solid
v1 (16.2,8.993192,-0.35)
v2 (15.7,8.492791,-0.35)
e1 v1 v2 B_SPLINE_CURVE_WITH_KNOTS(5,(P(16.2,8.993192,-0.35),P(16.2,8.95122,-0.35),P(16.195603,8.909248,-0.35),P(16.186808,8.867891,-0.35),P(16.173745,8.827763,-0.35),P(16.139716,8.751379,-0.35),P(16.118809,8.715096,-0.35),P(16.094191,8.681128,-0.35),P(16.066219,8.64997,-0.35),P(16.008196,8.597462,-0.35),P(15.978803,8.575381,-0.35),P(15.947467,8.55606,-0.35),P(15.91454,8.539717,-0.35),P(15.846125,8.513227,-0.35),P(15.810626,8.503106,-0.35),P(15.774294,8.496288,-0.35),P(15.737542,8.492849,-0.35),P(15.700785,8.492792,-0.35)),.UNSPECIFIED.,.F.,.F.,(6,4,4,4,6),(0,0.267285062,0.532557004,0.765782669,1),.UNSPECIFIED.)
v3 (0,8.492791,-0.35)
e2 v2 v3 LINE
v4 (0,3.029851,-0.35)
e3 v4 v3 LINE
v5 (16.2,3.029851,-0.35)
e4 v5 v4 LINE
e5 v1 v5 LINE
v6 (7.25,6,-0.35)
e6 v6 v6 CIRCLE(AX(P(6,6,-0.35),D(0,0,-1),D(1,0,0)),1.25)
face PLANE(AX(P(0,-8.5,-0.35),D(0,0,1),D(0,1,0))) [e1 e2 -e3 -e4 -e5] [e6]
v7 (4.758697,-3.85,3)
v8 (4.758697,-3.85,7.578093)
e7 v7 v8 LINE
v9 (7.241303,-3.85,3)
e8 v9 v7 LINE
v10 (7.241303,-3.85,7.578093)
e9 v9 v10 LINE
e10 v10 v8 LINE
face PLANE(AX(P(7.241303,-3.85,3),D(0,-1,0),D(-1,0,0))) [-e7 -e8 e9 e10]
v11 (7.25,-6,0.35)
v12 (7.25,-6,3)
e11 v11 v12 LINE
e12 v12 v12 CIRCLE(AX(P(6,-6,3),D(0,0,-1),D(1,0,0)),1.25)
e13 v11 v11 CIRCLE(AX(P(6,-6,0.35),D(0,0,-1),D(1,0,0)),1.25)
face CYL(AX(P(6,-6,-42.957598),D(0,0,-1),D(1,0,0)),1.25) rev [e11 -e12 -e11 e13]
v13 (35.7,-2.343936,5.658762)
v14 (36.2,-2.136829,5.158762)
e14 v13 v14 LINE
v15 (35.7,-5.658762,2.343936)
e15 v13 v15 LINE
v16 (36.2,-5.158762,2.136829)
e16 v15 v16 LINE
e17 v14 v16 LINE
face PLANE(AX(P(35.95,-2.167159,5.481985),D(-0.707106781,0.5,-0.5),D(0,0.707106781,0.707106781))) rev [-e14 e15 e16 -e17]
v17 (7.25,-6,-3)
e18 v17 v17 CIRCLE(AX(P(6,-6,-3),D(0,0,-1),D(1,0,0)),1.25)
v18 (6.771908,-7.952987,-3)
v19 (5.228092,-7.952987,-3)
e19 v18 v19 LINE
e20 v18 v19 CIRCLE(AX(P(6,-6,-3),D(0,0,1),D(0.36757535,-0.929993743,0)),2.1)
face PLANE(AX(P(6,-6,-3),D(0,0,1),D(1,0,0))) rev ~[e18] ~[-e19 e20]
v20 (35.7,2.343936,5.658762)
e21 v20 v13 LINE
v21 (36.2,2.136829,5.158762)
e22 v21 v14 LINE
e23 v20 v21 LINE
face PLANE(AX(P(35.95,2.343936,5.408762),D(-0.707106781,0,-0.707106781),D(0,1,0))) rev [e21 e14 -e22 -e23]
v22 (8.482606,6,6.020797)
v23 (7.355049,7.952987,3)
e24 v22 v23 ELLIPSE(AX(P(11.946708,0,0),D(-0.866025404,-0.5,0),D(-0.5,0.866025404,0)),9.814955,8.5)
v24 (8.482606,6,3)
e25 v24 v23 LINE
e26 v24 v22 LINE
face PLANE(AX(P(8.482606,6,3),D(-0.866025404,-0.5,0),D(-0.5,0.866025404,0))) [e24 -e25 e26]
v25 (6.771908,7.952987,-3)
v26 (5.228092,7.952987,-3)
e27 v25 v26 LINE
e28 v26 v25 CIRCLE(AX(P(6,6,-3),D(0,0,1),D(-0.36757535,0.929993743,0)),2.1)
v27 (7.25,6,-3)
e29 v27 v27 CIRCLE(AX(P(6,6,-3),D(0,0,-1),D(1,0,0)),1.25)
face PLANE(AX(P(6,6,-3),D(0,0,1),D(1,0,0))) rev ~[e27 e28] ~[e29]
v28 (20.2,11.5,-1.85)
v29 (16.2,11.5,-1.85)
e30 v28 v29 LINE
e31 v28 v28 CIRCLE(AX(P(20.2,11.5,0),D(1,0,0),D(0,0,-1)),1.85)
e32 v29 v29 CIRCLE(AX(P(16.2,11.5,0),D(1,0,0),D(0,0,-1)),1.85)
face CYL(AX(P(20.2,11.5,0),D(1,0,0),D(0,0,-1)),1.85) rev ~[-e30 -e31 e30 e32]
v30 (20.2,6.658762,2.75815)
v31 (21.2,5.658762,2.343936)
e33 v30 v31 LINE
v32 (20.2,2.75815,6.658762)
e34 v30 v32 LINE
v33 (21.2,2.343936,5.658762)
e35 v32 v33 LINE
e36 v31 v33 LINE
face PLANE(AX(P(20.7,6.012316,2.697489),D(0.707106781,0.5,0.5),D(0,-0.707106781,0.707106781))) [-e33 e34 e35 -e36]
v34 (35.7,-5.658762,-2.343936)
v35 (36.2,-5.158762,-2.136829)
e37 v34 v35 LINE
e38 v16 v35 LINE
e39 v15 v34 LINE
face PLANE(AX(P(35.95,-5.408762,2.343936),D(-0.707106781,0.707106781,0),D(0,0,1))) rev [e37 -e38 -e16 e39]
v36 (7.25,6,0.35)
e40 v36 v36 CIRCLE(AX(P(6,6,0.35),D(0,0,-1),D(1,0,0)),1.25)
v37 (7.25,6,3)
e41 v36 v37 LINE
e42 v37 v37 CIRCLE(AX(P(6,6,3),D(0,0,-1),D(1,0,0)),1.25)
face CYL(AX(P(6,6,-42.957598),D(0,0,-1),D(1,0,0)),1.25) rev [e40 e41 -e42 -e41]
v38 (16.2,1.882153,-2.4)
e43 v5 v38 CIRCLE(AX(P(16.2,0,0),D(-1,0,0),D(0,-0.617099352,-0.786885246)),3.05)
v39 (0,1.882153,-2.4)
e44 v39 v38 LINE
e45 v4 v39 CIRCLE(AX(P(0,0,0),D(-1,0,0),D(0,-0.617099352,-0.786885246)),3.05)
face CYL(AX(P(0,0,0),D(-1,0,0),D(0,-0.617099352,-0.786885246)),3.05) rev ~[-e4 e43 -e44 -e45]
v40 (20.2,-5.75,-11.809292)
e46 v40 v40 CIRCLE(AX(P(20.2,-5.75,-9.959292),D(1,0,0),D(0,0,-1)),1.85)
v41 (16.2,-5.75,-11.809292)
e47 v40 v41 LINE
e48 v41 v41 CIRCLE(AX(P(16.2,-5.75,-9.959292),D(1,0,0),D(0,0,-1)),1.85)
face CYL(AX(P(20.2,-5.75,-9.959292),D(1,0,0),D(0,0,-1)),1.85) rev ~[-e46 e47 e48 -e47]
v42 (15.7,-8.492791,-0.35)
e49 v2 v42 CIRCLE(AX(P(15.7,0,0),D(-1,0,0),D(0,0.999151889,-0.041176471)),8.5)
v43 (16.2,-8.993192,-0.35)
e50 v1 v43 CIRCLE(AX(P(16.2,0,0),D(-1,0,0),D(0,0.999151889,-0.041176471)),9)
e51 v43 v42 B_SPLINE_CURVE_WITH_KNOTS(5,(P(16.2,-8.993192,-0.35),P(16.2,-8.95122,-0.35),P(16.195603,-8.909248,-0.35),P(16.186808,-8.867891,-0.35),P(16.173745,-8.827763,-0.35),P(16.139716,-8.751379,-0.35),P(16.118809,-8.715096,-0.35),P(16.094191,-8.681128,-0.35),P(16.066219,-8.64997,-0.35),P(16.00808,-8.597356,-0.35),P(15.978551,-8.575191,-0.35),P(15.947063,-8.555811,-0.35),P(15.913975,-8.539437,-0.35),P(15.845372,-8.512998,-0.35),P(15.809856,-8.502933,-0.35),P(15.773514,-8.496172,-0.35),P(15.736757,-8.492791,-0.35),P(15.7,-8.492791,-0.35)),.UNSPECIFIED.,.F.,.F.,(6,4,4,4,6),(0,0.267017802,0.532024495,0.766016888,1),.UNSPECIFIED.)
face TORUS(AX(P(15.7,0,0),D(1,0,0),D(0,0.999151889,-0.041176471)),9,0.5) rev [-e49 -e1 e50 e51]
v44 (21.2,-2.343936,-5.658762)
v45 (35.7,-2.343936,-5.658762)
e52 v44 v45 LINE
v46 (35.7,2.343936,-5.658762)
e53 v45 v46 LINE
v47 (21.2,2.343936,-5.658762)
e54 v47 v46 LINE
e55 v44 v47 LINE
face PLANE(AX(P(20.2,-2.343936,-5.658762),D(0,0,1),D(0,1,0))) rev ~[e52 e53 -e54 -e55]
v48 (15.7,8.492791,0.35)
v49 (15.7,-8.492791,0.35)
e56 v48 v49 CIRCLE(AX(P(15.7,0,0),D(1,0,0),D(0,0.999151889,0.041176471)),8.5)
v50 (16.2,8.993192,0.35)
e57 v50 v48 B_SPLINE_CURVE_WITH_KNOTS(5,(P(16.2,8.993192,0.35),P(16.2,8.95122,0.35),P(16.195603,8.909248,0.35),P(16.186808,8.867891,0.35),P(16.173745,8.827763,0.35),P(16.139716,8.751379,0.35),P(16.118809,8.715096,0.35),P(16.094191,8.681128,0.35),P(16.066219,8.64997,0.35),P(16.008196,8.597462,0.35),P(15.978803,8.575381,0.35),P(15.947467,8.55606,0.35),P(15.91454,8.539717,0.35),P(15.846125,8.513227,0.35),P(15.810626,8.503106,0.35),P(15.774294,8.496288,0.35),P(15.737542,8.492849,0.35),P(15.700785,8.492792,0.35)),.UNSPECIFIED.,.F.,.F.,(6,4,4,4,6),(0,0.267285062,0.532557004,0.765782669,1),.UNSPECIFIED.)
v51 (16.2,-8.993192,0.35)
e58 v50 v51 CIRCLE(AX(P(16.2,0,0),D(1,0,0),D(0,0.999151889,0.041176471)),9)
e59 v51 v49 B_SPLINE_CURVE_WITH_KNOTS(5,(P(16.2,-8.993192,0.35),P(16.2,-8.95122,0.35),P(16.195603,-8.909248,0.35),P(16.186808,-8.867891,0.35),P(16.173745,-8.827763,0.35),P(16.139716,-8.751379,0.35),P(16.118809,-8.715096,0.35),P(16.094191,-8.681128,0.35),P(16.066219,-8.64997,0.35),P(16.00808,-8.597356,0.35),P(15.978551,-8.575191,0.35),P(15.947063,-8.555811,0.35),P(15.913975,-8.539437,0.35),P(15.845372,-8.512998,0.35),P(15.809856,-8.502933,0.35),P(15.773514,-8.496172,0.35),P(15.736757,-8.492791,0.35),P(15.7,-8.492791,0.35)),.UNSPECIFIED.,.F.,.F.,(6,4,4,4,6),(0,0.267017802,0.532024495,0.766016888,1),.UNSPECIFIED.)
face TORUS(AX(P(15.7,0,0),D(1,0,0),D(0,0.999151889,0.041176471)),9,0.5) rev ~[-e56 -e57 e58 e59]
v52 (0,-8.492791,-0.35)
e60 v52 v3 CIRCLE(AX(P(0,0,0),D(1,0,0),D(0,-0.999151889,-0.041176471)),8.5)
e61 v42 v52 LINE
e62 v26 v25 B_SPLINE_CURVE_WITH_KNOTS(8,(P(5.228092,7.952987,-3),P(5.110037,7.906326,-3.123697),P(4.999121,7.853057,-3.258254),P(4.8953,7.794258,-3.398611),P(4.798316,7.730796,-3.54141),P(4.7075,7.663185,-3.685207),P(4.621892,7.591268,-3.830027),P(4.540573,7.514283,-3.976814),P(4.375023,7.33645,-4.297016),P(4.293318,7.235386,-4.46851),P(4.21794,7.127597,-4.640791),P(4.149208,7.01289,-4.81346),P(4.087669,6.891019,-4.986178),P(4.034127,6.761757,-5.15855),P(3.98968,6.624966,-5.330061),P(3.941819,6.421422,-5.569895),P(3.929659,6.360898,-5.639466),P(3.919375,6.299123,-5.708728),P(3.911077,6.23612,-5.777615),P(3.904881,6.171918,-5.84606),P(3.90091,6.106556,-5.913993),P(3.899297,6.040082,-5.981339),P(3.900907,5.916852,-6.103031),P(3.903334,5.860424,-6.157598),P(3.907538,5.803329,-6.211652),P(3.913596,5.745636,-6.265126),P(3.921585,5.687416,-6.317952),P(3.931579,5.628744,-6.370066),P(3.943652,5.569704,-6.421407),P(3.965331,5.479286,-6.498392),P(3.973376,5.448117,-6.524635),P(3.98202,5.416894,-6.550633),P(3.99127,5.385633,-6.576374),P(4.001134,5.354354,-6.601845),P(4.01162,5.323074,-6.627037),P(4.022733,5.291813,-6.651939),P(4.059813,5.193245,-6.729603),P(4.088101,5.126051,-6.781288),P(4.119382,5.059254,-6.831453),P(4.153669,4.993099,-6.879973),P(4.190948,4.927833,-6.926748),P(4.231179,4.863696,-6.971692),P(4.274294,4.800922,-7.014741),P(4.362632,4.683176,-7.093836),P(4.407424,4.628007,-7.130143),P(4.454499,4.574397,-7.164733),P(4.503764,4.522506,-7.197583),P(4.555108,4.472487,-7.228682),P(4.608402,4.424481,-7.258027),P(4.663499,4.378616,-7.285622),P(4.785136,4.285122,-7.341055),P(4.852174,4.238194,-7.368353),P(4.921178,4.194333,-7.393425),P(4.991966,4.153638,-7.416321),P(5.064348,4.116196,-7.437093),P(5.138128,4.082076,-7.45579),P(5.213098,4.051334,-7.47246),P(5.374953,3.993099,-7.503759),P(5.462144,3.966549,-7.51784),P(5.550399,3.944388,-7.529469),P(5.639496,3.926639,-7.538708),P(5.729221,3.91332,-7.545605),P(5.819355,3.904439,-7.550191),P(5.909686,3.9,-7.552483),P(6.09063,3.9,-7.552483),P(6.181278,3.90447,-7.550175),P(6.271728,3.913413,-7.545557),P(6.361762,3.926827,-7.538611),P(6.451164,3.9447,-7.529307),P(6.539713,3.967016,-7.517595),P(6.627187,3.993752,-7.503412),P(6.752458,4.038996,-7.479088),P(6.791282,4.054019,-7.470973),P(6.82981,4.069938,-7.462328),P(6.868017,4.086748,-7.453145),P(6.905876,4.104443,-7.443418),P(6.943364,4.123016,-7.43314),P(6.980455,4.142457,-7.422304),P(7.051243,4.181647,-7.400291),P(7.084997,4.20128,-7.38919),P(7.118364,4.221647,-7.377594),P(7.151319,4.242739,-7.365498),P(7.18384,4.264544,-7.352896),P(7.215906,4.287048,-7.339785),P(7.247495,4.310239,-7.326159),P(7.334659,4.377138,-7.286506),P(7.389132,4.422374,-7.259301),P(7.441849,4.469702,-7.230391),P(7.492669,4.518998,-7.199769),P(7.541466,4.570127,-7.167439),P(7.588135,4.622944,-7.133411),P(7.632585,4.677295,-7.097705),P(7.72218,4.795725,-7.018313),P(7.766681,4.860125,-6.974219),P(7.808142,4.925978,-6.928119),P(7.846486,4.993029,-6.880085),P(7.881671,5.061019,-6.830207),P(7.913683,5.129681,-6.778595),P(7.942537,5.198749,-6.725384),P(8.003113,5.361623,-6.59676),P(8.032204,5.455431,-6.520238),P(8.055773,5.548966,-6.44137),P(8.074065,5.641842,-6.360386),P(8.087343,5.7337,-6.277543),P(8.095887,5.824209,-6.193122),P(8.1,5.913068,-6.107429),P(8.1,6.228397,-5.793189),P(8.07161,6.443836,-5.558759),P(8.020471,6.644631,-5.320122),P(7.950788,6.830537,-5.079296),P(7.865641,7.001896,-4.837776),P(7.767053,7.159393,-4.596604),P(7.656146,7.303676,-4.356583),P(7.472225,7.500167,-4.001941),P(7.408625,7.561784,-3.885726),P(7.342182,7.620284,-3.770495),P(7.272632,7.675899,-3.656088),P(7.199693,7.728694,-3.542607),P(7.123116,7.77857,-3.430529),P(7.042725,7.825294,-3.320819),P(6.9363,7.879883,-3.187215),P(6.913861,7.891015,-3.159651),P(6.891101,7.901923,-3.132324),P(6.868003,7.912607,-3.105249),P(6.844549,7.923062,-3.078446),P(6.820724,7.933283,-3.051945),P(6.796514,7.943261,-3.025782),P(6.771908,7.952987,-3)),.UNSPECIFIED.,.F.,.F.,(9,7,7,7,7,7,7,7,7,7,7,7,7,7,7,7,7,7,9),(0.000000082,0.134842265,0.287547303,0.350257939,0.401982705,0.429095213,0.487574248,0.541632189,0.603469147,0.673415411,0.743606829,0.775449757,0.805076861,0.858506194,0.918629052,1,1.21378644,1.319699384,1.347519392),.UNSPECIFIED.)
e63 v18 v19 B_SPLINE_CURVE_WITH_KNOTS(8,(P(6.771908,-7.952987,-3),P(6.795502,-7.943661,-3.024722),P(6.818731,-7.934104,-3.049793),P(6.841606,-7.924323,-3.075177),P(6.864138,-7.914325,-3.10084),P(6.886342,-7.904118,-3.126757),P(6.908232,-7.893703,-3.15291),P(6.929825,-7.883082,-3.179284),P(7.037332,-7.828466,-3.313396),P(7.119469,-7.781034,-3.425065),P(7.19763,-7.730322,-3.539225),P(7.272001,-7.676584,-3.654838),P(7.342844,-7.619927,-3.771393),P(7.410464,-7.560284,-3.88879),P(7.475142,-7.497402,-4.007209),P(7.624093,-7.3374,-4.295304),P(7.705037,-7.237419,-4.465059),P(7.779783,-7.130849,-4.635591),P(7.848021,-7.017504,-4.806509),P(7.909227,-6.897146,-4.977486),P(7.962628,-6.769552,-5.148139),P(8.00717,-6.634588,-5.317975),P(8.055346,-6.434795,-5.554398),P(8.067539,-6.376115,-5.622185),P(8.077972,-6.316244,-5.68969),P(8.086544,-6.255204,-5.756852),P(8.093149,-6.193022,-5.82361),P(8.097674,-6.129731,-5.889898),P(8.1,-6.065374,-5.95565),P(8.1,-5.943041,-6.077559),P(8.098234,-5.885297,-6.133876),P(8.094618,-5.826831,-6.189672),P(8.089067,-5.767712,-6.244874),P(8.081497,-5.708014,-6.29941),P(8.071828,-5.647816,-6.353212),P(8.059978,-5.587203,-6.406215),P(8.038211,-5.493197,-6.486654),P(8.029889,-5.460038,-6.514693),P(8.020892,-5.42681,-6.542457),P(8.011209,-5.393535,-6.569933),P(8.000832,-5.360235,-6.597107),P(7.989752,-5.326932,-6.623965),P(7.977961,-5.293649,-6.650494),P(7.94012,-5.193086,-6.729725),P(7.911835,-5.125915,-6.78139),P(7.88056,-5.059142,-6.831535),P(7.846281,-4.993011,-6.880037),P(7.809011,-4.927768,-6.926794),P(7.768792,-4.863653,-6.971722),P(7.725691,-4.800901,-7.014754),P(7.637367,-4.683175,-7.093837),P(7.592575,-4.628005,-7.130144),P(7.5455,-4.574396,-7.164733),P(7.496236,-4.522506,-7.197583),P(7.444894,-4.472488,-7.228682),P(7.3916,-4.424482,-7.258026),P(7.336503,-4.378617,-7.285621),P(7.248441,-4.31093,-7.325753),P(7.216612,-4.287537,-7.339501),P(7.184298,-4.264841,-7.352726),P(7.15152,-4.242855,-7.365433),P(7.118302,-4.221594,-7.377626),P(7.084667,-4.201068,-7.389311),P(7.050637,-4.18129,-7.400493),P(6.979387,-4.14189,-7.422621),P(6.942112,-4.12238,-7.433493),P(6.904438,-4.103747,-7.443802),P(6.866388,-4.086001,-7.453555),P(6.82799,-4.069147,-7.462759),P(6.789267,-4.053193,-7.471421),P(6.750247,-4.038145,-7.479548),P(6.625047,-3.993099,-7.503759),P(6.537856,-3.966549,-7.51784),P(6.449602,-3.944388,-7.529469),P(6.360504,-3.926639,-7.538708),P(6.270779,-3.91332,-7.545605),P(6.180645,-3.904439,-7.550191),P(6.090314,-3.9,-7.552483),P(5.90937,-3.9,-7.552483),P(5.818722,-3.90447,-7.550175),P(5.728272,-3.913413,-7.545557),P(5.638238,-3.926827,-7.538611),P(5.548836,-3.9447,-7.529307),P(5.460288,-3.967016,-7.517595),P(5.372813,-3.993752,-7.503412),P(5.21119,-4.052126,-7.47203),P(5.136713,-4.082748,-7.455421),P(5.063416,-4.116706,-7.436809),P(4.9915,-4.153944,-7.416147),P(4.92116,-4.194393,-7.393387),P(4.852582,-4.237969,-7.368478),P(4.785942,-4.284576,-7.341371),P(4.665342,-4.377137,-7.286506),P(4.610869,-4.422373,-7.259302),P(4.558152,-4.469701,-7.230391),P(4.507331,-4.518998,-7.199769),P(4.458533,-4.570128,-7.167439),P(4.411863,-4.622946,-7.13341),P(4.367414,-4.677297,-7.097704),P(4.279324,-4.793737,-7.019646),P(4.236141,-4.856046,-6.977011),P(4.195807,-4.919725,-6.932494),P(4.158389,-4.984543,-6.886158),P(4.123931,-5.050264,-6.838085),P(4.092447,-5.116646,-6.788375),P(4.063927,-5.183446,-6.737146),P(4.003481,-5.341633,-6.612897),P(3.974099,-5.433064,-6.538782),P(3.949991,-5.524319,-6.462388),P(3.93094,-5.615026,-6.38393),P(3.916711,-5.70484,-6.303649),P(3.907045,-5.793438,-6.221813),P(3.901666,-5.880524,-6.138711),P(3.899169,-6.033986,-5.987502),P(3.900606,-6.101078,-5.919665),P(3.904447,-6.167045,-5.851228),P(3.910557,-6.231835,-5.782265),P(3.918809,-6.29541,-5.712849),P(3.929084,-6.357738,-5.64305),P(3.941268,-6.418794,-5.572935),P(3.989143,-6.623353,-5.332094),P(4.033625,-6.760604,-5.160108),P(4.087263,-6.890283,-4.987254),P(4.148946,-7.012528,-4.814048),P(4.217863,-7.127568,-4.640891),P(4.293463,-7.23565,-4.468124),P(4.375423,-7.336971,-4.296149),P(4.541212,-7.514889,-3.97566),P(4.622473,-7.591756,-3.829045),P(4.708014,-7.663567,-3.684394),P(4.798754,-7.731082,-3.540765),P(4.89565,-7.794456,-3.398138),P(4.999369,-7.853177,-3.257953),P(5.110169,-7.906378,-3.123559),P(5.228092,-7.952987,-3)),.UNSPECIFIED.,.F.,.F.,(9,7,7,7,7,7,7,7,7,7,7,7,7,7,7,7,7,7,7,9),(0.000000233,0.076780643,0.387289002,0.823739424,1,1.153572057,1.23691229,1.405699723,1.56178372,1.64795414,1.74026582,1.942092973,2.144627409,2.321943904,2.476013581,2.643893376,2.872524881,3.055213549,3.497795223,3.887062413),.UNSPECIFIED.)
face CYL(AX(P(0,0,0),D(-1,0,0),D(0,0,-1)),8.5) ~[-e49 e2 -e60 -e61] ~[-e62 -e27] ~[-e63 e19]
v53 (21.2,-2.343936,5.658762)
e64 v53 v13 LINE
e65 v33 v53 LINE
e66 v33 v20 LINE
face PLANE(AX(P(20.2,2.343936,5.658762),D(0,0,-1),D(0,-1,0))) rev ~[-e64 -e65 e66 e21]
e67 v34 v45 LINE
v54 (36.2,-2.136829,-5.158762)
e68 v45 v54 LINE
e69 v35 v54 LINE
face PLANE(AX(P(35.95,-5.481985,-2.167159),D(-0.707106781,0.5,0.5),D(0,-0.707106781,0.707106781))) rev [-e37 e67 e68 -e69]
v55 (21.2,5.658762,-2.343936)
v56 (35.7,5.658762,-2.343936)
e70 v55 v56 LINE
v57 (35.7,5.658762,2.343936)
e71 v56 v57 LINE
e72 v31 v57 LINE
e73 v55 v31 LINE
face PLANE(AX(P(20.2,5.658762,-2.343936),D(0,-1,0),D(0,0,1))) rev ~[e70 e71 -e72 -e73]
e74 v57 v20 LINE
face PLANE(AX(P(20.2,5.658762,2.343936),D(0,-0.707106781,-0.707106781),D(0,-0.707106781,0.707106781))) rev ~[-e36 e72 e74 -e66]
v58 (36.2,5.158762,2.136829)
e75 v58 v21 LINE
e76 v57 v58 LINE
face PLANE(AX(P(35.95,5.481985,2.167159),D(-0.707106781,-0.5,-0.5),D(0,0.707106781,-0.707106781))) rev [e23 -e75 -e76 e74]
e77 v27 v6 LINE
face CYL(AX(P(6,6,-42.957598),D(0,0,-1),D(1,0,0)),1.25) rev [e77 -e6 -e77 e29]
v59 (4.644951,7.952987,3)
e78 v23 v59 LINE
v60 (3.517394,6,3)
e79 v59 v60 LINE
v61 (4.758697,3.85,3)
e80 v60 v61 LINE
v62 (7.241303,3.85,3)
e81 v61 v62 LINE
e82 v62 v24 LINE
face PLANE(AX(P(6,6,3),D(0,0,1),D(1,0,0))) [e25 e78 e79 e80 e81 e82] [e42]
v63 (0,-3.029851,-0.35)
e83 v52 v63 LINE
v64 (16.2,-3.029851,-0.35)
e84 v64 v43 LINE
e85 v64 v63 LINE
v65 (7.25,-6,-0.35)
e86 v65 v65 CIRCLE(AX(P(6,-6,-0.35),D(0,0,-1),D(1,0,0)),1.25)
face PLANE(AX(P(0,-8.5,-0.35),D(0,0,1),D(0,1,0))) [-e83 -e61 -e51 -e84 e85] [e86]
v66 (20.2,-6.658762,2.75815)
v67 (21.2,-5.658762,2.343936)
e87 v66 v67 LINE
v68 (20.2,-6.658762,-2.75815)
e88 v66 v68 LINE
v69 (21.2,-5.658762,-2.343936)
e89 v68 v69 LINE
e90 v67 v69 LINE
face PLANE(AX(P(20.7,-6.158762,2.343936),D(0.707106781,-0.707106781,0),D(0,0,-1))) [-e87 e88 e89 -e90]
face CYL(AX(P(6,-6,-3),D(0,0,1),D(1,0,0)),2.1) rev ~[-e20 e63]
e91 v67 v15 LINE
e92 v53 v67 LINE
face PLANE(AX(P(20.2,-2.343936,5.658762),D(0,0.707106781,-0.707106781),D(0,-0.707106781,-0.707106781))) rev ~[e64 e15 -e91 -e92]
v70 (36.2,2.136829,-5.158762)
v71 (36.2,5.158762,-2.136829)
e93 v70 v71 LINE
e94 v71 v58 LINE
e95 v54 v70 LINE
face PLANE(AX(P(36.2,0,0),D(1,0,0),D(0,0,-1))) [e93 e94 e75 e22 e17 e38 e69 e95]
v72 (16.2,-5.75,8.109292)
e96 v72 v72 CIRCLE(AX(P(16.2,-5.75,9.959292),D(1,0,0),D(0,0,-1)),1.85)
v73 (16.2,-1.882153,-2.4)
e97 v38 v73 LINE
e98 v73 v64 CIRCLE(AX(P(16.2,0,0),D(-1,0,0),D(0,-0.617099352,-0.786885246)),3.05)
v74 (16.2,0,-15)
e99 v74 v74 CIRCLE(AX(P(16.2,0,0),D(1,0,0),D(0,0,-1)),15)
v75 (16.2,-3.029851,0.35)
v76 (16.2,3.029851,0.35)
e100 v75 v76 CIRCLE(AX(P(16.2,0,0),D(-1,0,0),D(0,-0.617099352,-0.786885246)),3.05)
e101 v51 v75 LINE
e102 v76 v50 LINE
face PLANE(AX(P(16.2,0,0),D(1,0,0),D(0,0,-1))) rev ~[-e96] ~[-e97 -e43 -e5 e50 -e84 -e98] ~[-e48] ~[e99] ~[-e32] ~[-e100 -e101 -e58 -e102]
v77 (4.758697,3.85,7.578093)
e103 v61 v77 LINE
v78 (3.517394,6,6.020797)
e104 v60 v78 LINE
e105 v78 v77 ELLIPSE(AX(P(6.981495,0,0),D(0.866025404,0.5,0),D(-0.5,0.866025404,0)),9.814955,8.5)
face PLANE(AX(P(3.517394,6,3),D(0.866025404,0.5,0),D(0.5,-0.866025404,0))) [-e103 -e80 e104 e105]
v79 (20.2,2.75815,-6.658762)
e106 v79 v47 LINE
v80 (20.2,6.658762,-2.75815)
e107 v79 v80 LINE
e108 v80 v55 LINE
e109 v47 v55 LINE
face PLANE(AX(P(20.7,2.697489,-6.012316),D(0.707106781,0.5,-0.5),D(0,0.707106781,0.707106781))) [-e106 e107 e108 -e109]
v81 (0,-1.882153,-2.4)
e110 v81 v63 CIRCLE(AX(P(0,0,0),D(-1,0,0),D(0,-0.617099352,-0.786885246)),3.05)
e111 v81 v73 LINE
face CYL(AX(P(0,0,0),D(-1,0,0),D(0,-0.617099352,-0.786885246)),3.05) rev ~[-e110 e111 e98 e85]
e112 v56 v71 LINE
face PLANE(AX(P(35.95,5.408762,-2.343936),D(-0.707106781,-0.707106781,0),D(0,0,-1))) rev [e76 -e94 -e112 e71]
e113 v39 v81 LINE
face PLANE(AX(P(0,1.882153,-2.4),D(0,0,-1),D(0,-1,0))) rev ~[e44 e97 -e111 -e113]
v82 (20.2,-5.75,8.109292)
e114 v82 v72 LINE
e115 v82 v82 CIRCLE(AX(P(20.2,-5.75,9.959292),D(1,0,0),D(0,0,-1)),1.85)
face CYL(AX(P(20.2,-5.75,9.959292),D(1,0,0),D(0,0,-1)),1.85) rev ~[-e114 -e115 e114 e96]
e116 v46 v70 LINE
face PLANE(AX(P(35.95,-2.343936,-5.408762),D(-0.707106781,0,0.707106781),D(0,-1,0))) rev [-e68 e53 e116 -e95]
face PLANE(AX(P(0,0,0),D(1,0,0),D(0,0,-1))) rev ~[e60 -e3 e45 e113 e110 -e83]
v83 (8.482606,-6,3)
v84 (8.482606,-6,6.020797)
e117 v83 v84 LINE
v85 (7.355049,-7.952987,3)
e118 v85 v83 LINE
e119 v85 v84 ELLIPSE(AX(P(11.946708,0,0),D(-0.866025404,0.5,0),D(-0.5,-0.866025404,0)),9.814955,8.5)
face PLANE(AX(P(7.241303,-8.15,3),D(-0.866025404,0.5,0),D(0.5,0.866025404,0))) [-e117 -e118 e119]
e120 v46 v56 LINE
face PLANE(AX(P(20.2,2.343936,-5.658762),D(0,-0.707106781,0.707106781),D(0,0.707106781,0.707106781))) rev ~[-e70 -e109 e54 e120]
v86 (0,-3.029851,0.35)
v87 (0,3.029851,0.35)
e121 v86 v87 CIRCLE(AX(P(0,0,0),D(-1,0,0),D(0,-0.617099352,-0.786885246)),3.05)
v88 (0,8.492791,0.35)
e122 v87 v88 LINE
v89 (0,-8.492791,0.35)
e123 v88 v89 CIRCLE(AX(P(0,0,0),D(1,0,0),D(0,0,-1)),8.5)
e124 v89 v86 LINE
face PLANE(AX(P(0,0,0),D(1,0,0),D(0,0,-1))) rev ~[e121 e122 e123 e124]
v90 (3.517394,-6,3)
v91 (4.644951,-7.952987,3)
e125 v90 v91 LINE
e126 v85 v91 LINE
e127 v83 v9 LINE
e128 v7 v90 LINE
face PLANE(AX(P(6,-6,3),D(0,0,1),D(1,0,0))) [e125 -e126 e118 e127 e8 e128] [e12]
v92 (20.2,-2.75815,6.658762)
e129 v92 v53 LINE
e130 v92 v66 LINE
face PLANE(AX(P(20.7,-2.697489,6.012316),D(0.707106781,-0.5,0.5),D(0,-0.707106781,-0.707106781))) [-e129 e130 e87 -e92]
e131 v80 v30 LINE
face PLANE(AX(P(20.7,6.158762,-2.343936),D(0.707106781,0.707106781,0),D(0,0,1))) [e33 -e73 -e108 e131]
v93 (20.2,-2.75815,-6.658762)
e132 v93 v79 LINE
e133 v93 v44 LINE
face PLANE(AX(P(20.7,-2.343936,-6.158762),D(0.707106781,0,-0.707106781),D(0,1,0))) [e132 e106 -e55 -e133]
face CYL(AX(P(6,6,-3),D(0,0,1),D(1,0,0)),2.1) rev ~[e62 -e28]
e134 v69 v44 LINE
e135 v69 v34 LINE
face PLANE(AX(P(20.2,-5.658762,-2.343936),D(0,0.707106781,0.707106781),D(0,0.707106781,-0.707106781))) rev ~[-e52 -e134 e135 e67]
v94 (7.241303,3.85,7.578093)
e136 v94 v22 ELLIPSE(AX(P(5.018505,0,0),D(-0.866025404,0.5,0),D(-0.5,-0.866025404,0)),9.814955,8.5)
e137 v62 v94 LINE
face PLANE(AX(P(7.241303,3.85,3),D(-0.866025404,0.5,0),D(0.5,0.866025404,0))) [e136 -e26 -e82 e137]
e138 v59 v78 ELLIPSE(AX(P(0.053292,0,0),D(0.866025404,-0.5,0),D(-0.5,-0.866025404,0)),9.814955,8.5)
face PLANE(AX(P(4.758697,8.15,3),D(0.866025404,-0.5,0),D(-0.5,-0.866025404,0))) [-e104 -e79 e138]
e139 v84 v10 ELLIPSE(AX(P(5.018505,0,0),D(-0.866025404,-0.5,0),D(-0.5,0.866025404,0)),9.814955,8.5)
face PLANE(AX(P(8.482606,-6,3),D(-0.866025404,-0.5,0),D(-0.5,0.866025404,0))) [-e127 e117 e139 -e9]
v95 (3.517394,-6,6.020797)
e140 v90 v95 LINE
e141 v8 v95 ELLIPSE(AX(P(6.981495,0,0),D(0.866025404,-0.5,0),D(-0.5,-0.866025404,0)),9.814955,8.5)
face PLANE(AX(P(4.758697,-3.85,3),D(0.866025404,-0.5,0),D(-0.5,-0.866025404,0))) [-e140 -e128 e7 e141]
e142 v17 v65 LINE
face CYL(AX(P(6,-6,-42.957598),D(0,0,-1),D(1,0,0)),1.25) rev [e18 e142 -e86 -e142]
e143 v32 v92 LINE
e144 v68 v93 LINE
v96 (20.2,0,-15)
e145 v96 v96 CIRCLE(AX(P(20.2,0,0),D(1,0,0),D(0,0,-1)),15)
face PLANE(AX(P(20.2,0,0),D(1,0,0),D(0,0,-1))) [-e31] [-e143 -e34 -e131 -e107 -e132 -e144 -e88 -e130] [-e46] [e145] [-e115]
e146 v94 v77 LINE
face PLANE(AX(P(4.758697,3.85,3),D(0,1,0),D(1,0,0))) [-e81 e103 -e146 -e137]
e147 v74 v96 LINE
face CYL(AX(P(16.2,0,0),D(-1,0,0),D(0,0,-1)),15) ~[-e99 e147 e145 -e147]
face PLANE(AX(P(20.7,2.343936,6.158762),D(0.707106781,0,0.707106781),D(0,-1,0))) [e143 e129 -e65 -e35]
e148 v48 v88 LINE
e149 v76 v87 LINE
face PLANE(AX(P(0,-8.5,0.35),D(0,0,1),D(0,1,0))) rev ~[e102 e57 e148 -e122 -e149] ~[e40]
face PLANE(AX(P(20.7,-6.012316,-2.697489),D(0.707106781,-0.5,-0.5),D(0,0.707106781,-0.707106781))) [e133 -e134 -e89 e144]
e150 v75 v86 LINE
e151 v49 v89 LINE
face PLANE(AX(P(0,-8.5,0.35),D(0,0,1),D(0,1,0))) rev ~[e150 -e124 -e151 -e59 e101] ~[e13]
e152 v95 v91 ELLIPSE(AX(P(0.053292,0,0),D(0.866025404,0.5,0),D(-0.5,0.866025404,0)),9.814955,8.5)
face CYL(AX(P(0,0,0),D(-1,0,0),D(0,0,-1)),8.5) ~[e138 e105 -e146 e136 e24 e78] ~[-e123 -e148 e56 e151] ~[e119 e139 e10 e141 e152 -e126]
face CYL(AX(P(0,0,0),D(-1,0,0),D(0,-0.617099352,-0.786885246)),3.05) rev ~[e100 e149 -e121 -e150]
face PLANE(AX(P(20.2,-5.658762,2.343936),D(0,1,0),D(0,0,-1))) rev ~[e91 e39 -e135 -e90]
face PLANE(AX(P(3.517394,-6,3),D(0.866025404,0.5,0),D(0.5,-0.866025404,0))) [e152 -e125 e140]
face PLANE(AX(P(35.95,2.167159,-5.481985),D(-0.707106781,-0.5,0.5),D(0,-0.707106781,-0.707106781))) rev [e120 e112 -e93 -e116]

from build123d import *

# Parameters (mm, degrees)
SKETCH1_R               = 8.5
BOSS_EXTRUDE1_DEPTH     = 16.2
SKETCH4_W               = 0.7
SKETCH4_H               = 17
CUT_EXTRUDE2_DEPTH      = 21.172753902
SKETCH5_R               = 15
BOSS_EXTRUDE2_DEPTH     = 4
BOSS_EXTRUDE3_DEPTH     = 16
SKETCH7_R               = 1.85
CUT_EXTRUDE3_DEPTH      = 30.292319813
CHAMFER1_SIZE           = 0.5
CUT_EXTRUDE4_DEPTH      = 42.957597643
CUT_EXTRUDE4_DEPTH_BACK = 42.957597643
SKETCH8_R               = 1.25
CUT_EXTRUDE5_DEPTH      = 44.121224472
SKETCH10_R              = 2.1
CUT_EXTRUDE6_DEPTH      = 44.121224472
FILLET1_R               = 0.5
CHAMFER2_SIZE           = 1


with BuildPart() as part:
    # Sketch1 → Boss-Extrude1 (new body)
    with BuildSketch(Plane(origin=(0, 0, 0), x_dir=(0, 0, -1), z_dir=(1, 0, 0))):
        Circle(SKETCH1_R)
        with BuildLine():
            Line((2.4, 1.882153022), (2.4, -1.882153022))
            ThreePointArc((2.4, -1.882153022), (-3.05, 0), (2.4, 1.882153022))
        make_face(mode=Mode.SUBTRACT)
    extrude(amount=BOSS_EXTRUDE1_DEPTH)

    # Sketch4 → Cut-Extrude2 (cut, through all)
    with BuildSketch(Plane.ZY):
        Rectangle(SKETCH4_W, SKETCH4_H)
    extrude(amount=-CUT_EXTRUDE2_DEPTH, mode=Mode.SUBTRACT)


with BuildPart() as cut_extrude2_piece_1:
    # of the separate pieces the step leaves, piece 1, a body of its own (cut_extrude2_pieces)
    add(part.part.solids().sort_by_distance((0, -8.492791061, -0.35))[0])



with BuildPart() as cut_extrude2_piece_2:
    # of the separate pieces the step leaves, piece 2, a body of its own (cut_extrude2_pieces)
    add(part.part.solids().sort_by_distance((0, 3.029851482, 0.35))[0])


with BuildPart() as cut_extrude2_piece_1_1:
    add(cut_extrude2_piece_1.part)

    add(cut_extrude2_piece_2.part)  # Boss-Extrude2 merges Cut-Extrude2 piece 2
    # Sketch5 → Boss-Extrude2 (add)
    with BuildSketch(Plane(origin=(16.2, 0, 0), x_dir=(0, 0, -1), z_dir=(1, 0, 0))):
        Circle(SKETCH5_R)
    extrude(amount=BOSS_EXTRUDE2_DEPTH)

    # Sketch6 → Boss-Extrude3 (add)
    with BuildSketch(Plane(origin=(20.2, 0, 0), x_dir=(0, 0, -1), z_dir=(1, 0, 0))):
        Polygon((2.343936023, 5.658762137), (-2.343936023, 5.658762137), (-5.658762137, 2.343936023), (-5.658762137, -2.343936023), (-2.343936023, -5.658762137), (2.343936023, -5.658762137), (5.658762137, -2.343936023), (5.658762137, 2.343936023), align=None)
    extrude(amount=BOSS_EXTRUDE3_DEPTH)

    # Sketch7 → Cut-Extrude3 (cut, through all)
    with BuildSketch(Plane(origin=(20.2, 0, 0), x_dir=(0, 0, -1), z_dir=(1, 0, 0))):
        with Locations((0, 11.5)):
            Circle(SKETCH7_R)
        with Locations((-9.959292144, -5.75)):
            Circle(SKETCH7_R)
        with Locations((9.959292144, -5.75)):
            Circle(SKETCH7_R)
    extrude(amount=-CUT_EXTRUDE3_DEPTH, mode=Mode.SUBTRACT)

    # Chamfer1
    chamfer1_edges = [cut_extrude2_piece_1_1.edges().sort_by_distance(p)[0] for p in [
        (36.2, 4.00134908, -4.00134908),
        (36.2, 5.658762137, 0),
        (36.2, 4.00134908, 4.00134908),
        (36.2, 0, 5.658762137),
        (36.2, -4.00134908, 4.00134908),
        (36.2, -5.658762137, 0),
        (36.2, -4.00134908, -4.00134908),
        (36.2, 0, -5.658762137),
    ]]
    chamfer(chamfer1_edges, length=CHAMFER1_SIZE)

    # Sketch8 → Cut-Extrude4 (cut, two sides: drawn at the far end of the back side and taken through both)
    with BuildSketch(Plane.XY.offset(-CUT_EXTRUDE4_DEPTH_BACK)):
        with Locations((6, 6)):
            Circle(SKETCH8_R)
        with Locations((6, -6)):
            Circle(SKETCH8_R)
    extrude(amount=CUT_EXTRUDE4_DEPTH + CUT_EXTRUDE4_DEPTH_BACK, mode=Mode.SUBTRACT)

    # Sketch9 → Cut-Extrude5 (cut, through all)
    with BuildSketch(Plane.XY.offset(3)):
        Polygon((7.241303079, 3.85), (8.482606158, 6), (7.241303079, 8.15), (4.758696921, 8.15), (3.517393842, 6), (4.758696921, 3.85), align=None)
        Polygon((7.241303079, -8.15), (8.482606158, -6), (7.241303079, -3.85), (4.758696921, -3.85), (3.517393842, -6), (4.758696921, -8.15), align=None)
    extrude(amount=CUT_EXTRUDE5_DEPTH, mode=Mode.SUBTRACT)

    # Sketch10 → Cut-Extrude6 (cut, through all)
    with BuildSketch(Plane.XY.offset(-3)):
        with Locations((6, 6)):
            Circle(SKETCH10_R)
        with Locations((6, -6)):
            Circle(SKETCH10_R)
    extrude(amount=-CUT_EXTRUDE6_DEPTH, mode=Mode.SUBTRACT)

    # Fillet1
    fillet1_edges = [cut_extrude2_piece_1_1.edges().sort_by_distance(p)[0] for p in [
        (16.2, 0, 8.5),
        (16.2, 0, -8.5),
    ]]
    fillet(fillet1_edges, radius=FILLET1_R)

    # Chamfer2
    chamfer2_edges = [cut_extrude2_piece_1_1.edges().sort_by_distance(p)[0] for p in [
        (20.2, 4.00134908, -4.00134908),
        (20.2, 5.658762137, 0),
        (20.2, 4.00134908, 4.00134908),
        (20.2, 0, 5.658762137),
        (20.2, -4.00134908, 4.00134908),
        (20.2, -5.658762137, 0),
        (20.2, -4.00134908, -4.00134908),
        (20.2, 0, -5.658762137),
    ]]
    chamfer(chamfer2_edges, length=CHAMFER2_SIZE)


solid = cut_extrude2_piece_1_1.part
